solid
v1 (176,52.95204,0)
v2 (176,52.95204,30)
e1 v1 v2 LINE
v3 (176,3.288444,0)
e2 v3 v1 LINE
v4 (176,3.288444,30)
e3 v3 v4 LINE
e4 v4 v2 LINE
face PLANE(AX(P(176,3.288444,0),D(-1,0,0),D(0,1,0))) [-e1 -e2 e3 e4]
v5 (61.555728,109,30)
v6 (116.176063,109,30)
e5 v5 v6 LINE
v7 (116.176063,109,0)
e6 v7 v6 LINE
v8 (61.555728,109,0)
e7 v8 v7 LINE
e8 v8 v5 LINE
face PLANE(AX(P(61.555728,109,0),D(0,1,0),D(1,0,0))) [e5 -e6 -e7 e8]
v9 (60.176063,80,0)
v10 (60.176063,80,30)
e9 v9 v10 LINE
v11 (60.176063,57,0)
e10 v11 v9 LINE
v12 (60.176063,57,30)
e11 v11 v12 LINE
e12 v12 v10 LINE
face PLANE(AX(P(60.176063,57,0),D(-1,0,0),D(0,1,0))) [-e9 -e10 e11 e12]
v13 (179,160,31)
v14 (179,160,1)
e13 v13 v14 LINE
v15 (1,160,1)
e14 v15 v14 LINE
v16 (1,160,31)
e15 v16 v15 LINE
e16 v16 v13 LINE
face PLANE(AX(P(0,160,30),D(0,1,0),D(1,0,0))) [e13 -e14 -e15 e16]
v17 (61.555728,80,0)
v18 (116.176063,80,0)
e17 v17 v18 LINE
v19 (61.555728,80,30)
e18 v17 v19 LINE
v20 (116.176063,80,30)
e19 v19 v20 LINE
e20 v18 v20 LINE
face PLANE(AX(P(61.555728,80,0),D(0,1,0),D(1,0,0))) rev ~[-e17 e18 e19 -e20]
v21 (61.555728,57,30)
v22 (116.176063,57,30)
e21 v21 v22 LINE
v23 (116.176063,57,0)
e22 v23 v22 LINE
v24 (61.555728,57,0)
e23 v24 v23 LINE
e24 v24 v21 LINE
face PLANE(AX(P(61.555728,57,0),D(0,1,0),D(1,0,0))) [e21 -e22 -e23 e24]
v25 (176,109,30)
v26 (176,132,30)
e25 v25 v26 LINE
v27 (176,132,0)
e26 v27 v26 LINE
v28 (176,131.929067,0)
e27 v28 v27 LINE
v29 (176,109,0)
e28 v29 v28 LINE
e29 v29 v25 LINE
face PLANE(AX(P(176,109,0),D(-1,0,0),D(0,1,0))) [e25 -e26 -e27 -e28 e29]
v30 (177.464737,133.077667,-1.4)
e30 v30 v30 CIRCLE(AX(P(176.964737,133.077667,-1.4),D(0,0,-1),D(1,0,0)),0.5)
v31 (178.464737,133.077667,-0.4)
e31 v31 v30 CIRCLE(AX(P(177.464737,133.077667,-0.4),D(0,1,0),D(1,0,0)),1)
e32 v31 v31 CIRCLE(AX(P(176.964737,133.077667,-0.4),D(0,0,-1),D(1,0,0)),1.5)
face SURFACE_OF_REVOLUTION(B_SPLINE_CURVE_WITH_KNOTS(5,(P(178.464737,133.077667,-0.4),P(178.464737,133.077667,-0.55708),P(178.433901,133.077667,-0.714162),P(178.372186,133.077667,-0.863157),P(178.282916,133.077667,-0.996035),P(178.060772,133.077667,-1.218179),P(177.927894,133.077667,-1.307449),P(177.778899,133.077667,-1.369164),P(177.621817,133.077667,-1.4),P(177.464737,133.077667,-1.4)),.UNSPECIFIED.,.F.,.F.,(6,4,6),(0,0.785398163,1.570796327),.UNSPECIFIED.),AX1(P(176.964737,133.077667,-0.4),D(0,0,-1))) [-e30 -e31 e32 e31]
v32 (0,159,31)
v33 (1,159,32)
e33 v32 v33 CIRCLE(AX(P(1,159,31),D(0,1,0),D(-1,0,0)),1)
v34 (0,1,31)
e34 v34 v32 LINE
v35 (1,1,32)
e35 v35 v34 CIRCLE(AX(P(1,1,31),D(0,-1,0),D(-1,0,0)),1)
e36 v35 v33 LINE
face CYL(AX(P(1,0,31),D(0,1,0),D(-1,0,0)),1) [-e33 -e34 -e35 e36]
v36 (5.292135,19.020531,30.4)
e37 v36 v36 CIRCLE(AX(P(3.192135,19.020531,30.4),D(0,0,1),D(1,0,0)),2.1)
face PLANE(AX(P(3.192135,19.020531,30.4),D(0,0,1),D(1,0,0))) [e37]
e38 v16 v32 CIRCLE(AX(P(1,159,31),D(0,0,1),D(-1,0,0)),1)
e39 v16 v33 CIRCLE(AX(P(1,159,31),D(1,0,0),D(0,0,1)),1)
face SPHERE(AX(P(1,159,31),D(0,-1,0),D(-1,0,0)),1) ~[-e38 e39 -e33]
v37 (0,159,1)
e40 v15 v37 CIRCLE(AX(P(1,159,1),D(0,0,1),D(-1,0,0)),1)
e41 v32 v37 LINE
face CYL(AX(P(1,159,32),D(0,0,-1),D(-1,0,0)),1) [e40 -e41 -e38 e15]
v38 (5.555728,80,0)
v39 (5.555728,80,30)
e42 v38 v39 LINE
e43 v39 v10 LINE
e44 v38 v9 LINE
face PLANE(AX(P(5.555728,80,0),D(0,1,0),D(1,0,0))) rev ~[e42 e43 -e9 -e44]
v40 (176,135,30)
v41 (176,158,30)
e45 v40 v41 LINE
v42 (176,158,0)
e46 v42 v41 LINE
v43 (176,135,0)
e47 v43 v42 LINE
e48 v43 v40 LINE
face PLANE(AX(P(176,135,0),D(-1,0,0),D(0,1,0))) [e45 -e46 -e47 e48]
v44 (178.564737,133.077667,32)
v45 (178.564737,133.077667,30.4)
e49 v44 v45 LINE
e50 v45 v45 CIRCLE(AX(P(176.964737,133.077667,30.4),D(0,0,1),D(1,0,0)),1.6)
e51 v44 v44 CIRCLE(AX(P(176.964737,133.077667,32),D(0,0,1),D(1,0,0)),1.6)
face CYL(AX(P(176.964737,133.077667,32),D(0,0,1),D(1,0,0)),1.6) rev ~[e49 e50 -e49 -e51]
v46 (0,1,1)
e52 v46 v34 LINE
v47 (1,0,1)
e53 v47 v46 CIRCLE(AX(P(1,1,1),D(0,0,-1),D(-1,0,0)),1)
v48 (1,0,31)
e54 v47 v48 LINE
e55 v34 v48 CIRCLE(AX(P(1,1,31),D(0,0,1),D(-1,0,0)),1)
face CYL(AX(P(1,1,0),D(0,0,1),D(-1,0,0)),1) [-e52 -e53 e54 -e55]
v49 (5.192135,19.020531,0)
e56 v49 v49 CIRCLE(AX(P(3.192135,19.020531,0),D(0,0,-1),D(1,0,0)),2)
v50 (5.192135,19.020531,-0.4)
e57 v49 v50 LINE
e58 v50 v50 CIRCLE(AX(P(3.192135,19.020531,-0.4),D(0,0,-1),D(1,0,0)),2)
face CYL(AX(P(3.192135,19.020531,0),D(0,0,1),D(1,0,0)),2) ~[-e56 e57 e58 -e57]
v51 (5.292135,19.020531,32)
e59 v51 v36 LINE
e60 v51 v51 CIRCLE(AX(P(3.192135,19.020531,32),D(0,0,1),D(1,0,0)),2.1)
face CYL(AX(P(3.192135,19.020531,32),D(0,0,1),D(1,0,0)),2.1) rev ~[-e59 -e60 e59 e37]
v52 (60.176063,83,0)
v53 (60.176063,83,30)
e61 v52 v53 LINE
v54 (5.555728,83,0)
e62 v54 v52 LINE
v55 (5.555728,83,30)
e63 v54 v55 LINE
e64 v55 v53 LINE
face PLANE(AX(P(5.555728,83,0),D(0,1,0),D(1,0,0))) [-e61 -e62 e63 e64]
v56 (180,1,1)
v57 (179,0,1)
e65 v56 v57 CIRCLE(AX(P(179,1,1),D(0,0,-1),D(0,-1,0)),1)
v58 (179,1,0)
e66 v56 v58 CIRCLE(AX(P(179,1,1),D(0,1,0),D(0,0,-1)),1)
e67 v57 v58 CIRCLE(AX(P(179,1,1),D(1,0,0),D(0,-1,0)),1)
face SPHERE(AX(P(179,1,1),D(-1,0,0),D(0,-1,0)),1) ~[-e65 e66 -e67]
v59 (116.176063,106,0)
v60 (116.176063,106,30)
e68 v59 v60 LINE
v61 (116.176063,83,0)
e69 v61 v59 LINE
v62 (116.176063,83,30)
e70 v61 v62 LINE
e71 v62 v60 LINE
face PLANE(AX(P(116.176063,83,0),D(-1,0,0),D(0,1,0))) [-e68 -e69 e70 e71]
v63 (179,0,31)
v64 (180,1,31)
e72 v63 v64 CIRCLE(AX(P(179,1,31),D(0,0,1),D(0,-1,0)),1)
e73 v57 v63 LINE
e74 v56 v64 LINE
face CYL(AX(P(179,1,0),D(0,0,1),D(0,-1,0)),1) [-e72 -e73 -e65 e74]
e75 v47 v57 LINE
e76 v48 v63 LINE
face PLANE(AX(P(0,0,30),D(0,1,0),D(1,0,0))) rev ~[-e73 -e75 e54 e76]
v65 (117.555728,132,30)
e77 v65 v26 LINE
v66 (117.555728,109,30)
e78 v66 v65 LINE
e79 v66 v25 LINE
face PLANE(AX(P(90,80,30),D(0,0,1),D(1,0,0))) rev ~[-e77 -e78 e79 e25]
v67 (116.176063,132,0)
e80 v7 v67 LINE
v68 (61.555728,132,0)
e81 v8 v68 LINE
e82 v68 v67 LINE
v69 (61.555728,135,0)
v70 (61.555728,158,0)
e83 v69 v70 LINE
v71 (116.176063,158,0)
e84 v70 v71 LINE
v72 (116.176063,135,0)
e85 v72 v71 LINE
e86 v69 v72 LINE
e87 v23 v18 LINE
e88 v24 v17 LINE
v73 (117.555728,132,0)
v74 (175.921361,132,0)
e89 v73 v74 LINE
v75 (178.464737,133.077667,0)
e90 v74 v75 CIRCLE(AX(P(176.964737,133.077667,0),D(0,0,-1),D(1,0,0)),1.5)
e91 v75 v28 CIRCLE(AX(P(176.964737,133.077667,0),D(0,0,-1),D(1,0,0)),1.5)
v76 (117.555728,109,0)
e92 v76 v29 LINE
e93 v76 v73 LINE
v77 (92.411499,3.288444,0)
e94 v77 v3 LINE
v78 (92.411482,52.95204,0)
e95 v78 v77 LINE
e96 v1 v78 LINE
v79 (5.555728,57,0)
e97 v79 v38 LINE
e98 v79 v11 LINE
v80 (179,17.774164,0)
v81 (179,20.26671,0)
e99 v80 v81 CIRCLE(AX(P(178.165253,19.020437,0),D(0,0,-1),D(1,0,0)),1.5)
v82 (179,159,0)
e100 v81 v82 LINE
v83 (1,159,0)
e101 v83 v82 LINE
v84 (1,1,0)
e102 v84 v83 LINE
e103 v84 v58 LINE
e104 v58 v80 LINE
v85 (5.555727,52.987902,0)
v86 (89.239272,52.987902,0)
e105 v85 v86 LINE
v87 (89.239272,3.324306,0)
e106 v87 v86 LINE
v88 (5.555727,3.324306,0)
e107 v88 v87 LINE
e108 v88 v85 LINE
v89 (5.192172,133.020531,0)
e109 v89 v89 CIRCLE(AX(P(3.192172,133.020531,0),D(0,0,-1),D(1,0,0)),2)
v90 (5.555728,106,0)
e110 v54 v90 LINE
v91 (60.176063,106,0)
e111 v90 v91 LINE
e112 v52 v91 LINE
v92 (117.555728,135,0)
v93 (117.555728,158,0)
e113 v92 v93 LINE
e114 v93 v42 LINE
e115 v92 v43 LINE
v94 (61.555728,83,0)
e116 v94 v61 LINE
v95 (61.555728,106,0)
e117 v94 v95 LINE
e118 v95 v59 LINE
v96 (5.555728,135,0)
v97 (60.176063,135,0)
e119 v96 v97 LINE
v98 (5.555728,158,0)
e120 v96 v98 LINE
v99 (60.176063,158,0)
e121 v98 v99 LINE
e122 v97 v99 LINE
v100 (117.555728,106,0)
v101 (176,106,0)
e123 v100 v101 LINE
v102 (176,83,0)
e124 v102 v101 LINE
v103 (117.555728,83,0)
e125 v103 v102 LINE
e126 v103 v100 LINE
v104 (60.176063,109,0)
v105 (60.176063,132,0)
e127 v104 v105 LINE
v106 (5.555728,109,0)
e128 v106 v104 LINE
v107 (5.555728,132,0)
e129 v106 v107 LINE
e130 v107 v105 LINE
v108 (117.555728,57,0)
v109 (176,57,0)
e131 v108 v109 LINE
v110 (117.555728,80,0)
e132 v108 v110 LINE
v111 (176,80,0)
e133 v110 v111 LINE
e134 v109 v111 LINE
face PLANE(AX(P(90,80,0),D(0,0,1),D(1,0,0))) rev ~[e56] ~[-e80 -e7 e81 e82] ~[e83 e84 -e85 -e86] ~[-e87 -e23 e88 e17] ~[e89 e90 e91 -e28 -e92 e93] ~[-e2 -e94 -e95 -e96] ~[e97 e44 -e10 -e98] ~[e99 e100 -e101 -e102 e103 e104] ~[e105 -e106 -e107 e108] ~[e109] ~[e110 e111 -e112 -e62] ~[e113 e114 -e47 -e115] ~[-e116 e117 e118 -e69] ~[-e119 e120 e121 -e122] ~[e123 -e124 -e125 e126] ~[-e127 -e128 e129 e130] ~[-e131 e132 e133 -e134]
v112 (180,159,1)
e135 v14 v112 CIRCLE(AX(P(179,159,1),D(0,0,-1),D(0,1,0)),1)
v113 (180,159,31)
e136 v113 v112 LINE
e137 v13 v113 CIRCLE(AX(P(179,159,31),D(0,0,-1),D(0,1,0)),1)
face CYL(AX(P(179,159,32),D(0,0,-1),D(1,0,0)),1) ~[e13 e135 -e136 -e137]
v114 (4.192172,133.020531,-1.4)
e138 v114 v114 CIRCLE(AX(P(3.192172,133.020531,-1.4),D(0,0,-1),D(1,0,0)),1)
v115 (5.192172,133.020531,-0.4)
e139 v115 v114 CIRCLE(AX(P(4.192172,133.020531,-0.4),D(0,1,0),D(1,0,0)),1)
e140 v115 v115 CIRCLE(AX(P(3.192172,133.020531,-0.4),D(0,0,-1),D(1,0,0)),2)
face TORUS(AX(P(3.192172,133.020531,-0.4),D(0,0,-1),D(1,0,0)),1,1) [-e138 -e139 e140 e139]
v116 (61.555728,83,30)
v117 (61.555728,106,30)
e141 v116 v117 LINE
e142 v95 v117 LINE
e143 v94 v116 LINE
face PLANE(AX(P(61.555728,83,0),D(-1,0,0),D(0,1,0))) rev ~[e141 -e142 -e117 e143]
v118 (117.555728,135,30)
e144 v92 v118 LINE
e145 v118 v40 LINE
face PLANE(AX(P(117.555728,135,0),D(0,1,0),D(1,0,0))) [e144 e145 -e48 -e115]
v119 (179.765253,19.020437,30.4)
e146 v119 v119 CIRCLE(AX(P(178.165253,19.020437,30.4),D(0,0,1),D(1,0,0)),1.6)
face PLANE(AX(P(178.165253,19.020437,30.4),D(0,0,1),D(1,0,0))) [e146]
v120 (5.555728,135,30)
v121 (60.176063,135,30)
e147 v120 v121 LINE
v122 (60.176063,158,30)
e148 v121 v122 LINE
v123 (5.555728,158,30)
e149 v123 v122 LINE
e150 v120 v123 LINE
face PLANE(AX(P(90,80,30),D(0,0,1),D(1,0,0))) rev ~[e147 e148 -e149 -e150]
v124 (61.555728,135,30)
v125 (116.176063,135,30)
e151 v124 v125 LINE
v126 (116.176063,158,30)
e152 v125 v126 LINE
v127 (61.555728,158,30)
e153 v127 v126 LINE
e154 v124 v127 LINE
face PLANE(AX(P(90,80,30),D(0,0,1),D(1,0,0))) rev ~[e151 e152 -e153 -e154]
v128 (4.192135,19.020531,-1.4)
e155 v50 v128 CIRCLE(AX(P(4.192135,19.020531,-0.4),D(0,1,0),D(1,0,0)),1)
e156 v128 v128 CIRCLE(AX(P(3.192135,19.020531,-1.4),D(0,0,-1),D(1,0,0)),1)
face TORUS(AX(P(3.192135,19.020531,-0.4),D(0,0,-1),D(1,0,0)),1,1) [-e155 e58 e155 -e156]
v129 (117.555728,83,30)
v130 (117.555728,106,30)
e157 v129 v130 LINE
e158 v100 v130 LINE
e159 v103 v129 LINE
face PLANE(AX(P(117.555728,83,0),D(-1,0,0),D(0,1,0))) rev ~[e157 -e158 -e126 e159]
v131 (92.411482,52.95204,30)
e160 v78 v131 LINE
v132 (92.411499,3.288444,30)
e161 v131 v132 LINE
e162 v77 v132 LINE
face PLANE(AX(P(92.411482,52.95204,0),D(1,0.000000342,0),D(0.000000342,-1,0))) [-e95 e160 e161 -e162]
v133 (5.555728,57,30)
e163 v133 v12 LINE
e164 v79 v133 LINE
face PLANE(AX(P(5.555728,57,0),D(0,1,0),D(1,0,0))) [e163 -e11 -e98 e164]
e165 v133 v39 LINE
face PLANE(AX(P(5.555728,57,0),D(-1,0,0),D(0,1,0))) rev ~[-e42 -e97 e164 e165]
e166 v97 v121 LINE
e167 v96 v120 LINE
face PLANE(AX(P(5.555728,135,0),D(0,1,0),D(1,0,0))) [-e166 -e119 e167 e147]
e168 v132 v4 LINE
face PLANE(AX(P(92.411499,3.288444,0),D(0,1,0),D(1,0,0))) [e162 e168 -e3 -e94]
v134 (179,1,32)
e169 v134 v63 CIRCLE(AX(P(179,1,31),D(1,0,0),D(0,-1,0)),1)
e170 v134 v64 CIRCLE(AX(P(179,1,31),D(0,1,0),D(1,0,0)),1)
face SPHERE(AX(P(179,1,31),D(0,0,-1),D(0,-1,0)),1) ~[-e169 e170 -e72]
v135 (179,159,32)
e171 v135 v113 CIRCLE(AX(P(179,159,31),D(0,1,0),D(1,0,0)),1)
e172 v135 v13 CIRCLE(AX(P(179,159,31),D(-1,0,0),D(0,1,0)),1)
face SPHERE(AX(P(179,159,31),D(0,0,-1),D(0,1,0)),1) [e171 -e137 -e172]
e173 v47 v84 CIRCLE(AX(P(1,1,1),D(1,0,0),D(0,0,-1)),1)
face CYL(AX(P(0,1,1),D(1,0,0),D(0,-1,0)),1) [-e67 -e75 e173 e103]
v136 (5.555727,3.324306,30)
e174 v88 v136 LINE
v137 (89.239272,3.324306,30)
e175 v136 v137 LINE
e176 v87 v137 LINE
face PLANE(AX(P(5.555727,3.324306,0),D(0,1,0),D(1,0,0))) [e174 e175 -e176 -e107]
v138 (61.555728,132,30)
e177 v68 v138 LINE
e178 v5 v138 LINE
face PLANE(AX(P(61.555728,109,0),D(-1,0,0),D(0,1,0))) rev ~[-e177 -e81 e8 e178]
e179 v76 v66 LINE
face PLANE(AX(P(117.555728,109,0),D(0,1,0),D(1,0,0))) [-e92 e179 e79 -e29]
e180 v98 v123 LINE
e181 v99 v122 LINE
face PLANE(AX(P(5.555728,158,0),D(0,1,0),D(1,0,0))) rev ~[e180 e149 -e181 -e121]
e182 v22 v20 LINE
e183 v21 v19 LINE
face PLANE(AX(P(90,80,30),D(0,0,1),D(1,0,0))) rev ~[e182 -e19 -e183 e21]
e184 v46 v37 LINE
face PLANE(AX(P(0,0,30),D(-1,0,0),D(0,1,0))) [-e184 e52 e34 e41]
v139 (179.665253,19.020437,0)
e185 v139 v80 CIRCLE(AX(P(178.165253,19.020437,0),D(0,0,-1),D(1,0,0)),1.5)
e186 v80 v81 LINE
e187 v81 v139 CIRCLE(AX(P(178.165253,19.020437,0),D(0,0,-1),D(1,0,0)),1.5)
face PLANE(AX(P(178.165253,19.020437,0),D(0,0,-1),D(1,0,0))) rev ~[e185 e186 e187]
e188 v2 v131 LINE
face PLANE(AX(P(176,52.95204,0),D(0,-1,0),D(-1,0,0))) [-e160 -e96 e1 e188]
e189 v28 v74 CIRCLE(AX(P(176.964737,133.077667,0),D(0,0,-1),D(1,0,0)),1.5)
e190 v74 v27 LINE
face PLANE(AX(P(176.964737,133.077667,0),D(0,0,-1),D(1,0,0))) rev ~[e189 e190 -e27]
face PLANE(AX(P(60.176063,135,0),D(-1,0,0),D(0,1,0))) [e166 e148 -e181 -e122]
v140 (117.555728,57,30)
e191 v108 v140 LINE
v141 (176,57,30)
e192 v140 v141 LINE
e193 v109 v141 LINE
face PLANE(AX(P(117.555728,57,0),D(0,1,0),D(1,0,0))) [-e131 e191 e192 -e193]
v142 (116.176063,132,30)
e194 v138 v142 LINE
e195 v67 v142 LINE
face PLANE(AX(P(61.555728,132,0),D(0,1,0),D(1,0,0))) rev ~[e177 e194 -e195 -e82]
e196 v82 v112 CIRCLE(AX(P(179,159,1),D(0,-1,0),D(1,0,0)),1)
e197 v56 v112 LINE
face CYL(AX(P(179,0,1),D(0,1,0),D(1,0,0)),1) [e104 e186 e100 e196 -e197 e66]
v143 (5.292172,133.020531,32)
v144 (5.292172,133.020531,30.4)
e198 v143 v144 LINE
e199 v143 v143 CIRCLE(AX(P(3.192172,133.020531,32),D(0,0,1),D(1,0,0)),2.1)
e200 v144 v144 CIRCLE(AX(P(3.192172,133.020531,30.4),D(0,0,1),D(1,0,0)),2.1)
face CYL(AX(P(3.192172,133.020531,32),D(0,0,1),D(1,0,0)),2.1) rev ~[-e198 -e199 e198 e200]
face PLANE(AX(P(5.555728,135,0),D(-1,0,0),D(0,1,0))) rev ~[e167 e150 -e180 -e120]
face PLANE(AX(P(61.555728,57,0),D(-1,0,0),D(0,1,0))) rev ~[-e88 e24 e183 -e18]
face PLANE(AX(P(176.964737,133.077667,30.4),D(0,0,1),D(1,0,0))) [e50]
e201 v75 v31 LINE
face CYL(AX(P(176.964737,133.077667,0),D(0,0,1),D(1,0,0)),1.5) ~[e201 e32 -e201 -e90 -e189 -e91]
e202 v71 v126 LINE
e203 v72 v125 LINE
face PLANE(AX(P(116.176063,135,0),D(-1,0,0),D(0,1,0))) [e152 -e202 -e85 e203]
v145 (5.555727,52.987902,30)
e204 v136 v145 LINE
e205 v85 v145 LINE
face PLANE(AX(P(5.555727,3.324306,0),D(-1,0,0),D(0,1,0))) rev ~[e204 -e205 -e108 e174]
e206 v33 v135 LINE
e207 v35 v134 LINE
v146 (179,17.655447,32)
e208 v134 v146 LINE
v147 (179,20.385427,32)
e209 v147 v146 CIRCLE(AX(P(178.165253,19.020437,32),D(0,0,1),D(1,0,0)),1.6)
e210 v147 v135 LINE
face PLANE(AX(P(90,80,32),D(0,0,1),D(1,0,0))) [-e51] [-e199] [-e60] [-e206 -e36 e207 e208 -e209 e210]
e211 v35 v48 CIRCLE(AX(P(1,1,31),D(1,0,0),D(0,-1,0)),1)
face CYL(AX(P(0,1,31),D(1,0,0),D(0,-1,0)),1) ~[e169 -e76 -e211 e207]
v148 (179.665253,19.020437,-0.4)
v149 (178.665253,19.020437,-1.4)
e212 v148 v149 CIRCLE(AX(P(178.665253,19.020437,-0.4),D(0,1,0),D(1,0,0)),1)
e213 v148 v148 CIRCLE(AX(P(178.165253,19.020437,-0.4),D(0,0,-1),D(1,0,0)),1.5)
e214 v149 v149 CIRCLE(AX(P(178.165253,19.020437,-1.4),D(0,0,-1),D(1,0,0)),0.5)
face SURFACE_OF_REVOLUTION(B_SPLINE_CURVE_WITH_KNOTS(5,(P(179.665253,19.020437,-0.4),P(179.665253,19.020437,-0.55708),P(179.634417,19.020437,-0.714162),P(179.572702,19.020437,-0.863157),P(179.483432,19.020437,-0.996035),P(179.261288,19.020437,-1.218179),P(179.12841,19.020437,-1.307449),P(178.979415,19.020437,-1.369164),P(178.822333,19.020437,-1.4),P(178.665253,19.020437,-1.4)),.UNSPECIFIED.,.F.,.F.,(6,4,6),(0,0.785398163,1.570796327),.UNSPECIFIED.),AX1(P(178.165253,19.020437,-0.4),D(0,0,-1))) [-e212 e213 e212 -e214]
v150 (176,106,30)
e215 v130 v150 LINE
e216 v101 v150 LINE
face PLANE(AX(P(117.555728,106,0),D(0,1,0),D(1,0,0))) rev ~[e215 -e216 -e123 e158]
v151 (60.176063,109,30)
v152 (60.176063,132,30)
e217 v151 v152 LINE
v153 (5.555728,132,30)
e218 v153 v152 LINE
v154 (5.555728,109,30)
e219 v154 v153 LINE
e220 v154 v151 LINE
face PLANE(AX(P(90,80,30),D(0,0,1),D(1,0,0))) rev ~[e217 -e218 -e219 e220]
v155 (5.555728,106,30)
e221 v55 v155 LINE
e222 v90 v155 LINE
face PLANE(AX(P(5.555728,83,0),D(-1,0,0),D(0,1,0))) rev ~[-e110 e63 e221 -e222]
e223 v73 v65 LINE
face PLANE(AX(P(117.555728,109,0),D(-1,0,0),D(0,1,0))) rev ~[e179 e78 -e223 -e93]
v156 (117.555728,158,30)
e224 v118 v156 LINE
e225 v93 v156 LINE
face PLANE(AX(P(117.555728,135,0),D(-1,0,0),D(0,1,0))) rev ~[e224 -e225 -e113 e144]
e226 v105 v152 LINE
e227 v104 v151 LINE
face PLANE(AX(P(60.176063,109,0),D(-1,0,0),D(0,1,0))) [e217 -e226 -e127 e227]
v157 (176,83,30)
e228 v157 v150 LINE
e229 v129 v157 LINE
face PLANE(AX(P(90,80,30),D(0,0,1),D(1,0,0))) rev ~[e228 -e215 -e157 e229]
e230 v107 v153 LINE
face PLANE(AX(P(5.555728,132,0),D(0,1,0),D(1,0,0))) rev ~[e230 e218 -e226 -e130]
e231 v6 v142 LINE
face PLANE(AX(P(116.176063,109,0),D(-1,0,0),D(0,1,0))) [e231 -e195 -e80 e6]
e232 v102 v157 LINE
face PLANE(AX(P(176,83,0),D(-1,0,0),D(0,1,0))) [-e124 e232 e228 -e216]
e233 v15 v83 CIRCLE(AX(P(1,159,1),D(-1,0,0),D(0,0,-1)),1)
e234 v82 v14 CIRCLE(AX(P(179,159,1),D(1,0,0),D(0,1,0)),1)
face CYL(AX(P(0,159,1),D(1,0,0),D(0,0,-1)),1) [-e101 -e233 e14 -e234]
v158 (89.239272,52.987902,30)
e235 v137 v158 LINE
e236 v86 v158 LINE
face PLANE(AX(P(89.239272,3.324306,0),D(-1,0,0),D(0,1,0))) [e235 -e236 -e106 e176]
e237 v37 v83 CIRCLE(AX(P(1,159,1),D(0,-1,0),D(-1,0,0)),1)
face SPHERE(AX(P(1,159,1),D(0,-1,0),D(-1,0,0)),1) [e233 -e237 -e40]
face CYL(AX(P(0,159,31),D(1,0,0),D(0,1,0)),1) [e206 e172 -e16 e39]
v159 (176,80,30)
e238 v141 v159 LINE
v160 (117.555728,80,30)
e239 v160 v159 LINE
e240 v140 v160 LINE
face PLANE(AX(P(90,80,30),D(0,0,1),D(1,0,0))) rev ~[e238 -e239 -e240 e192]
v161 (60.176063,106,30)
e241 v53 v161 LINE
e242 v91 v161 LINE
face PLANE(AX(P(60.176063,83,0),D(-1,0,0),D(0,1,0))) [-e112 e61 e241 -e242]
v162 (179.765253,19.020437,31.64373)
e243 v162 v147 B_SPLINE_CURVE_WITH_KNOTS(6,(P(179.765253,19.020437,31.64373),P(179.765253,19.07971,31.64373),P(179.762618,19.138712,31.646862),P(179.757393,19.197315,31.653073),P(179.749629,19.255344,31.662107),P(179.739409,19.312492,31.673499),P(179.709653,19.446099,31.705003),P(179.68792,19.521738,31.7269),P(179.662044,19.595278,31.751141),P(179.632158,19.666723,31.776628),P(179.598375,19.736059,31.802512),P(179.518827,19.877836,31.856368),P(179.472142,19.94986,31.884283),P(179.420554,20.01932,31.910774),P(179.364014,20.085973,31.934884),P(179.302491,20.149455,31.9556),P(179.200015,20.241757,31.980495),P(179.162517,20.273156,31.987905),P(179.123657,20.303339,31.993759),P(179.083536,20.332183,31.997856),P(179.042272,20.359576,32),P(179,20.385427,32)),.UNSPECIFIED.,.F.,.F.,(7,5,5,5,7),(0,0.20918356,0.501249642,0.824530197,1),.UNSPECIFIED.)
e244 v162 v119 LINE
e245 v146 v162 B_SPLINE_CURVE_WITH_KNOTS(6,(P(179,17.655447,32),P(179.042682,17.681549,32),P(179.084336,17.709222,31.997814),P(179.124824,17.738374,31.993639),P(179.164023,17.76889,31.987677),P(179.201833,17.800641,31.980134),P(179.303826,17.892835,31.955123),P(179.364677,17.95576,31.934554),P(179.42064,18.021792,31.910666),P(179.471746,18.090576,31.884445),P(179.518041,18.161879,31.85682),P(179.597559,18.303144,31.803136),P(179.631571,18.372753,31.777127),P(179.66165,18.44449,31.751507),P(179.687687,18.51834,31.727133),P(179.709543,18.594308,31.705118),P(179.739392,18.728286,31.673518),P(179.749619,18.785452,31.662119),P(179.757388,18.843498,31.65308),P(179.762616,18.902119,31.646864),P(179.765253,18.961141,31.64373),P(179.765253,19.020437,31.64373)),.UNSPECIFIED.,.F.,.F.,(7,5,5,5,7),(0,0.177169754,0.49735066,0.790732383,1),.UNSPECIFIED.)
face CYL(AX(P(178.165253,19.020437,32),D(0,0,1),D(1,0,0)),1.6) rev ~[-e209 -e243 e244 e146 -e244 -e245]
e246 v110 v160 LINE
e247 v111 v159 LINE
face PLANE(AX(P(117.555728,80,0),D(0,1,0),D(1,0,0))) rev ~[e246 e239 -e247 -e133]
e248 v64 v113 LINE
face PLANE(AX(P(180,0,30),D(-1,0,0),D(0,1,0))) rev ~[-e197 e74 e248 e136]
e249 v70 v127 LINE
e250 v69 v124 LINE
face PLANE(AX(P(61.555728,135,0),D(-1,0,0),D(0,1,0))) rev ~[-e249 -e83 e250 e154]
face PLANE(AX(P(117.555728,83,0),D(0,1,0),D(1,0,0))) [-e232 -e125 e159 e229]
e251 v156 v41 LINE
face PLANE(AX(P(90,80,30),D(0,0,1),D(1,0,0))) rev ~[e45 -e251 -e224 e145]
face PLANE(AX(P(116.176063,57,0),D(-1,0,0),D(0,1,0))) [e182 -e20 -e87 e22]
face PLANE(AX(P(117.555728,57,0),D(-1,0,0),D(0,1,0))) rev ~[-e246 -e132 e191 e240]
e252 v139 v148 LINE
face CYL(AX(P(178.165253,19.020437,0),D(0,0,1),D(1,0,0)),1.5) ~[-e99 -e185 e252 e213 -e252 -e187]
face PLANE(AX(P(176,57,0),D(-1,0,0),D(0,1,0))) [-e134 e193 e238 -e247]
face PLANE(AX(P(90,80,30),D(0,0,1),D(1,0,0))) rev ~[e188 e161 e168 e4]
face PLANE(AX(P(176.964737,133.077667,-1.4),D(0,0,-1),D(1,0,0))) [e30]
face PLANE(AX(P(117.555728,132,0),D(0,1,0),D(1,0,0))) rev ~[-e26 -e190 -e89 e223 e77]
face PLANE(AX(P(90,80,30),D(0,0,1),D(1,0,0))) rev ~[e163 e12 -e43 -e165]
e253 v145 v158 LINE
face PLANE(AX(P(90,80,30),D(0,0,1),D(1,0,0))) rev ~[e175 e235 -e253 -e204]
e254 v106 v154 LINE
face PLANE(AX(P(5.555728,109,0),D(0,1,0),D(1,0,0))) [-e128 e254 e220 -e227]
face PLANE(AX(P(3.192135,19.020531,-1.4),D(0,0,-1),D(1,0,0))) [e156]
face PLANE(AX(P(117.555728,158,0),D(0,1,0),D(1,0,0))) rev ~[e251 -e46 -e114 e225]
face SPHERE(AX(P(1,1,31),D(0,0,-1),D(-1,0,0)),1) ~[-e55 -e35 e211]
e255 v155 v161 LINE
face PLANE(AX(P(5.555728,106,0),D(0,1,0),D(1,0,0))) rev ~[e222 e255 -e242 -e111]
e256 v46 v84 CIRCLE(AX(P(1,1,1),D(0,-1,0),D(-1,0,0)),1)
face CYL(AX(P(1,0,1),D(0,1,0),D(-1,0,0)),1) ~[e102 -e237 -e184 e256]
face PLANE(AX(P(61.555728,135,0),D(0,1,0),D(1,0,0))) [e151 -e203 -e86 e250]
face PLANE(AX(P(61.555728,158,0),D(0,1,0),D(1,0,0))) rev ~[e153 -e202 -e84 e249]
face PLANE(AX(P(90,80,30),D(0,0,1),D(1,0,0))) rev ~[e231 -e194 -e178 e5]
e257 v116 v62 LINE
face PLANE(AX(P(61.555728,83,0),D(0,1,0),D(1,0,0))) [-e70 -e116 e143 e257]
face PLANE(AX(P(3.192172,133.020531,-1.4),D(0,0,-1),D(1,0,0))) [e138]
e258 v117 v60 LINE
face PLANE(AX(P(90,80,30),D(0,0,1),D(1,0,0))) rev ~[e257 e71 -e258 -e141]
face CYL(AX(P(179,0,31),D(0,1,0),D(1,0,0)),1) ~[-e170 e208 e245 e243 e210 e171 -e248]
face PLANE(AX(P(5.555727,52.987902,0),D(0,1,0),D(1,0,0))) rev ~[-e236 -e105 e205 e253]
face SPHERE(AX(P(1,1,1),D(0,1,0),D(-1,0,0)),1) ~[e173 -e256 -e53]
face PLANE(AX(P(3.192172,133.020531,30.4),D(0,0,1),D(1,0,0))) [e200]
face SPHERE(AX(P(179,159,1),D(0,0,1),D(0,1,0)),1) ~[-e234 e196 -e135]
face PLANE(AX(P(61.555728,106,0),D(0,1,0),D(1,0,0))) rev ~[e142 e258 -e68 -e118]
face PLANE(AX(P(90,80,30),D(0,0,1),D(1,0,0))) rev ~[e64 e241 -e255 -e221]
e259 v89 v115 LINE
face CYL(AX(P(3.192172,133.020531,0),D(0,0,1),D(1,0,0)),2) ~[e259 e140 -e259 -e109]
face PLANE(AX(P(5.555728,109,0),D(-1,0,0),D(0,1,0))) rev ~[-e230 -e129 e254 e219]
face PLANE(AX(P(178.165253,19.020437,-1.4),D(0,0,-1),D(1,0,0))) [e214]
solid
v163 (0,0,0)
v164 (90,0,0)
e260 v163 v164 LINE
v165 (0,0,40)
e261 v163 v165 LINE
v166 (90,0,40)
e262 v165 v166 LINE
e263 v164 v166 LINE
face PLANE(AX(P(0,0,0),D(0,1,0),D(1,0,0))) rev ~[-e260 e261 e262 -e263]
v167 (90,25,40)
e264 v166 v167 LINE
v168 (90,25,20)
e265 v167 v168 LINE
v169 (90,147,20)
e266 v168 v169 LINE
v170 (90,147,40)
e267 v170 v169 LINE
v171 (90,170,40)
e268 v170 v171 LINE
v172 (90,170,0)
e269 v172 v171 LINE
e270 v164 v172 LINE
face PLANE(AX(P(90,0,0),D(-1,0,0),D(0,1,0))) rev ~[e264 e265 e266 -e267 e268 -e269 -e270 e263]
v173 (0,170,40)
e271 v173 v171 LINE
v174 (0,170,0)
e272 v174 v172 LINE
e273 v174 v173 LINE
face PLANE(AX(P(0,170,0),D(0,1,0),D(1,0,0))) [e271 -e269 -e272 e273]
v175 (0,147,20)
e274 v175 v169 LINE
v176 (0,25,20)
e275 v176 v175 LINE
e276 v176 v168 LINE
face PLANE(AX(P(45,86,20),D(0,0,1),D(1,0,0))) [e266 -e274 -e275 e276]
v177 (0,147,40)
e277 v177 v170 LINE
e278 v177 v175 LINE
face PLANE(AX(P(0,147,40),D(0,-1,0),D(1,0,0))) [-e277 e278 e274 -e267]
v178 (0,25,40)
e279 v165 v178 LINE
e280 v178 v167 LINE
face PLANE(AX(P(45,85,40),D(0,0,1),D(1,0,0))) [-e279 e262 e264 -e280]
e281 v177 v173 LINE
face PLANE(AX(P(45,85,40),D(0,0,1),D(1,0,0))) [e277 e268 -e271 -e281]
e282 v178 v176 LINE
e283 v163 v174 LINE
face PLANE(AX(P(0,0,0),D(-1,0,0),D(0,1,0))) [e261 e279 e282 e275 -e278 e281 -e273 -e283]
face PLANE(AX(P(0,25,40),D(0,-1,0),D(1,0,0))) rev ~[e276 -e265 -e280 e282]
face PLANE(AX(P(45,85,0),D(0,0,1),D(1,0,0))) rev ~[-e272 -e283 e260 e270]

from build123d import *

# Parameters (mm, degrees)
SKETCH_W        = 180
SKETCH_H        = 160
SKETCH_W_2      = 83.683545
SKETCH_H_2      = 49.663596
SKETCH_W_3      = 54.620335
SKETCH_H_3      = 23
SKETCH_W_4      = 58.444272
PAD001_DEPTH    = 30
SKETCH004_W     = 180
SKETCH004_H     = 160
PAD002_DEPTH    = 2
FILLET_R        = 1
SKETCH005_R     = 2
SKETCH005_R_2   = 1.5
PAD003_DEPTH    = 1.4
FILLET001_R     = 1
SKETCH006_R     = 2.1
SKETCH006_R_2   = 1.6
POCKET001_DEPTH = 1.6
SKETCH002_W     = 90
SKETCH002_H     = 170
PAD_DEPTH       = 40
SKETCH003_W     = 90
SKETCH003_H     = 122
POCKET_DEPTH    = 20


with BuildPart() as body:
    # Sketch (on XY_Plane of Origin) → Pad001 (new body)
    with BuildSketch(Plane.XY):
        with Locations((90, 80)):
            Rectangle(SKETCH_W, SKETCH_H)
        with Locations((47.3975, 28.156104)):
            Rectangle(SKETCH_W_2, SKETCH_H_2, mode=Mode.SUBTRACT)
        Polygon((176, 3.288444), (176, 52.95204), (92.411482, 52.95204), (92.411499, 3.288444), align=None, mode=Mode.SUBTRACT)
        with Locations((32.865896, 146.5)):
            Rectangle(SKETCH_W_3, SKETCH_H_3, mode=Mode.SUBTRACT)
        with Locations((88.865895, 146.5)):
            Rectangle(SKETCH_W_3, SKETCH_H_3, mode=Mode.SUBTRACT)
        with Locations((146.777864, 146.5)):
            Rectangle(SKETCH_W_4, SKETCH_H_3, mode=Mode.SUBTRACT)
        with Locations((32.865896, 120.5)):
            Rectangle(SKETCH_W_3, SKETCH_H_3, mode=Mode.SUBTRACT)
        with Locations((88.865895, 120.5)):
            Rectangle(SKETCH_W_3, SKETCH_H_3, mode=Mode.SUBTRACT)
        with Locations((146.777864, 120.5)):
            Rectangle(SKETCH_W_4, SKETCH_H_3, mode=Mode.SUBTRACT)
        with Locations((32.865896, 94.5)):
            Rectangle(SKETCH_W_3, SKETCH_H_3, mode=Mode.SUBTRACT)
        with Locations((88.865895, 94.5)):
            Rectangle(SKETCH_W_3, SKETCH_H_3, mode=Mode.SUBTRACT)
        with Locations((146.777864, 94.5)):
            Rectangle(SKETCH_W_4, SKETCH_H_3, mode=Mode.SUBTRACT)
        with Locations((32.865896, 68.5)):
            Rectangle(SKETCH_W_3, SKETCH_H_3, mode=Mode.SUBTRACT)
        with Locations((88.865895, 68.5)):
            Rectangle(SKETCH_W_3, SKETCH_H_3, mode=Mode.SUBTRACT)
        with Locations((146.777864, 68.5)):
            Rectangle(SKETCH_W_4, SKETCH_H_3, mode=Mode.SUBTRACT)
    extrude(amount=PAD001_DEPTH)

    # Sketch004 (on Face62 of Pad001) → Pad002 (join)
    with BuildSketch(Plane.XY.offset(30)):
        with Locations((90, 80)):
            Rectangle(SKETCH004_W, SKETCH004_H)
    extrude(amount=PAD002_DEPTH)

    # Fillet
    fillet_edges = [body.edges().sort_by_distance(p)[0] for p in [
        (0, 80, 0),
        (0, 0, 16),
        (0, 80, 32),
        (0, 160, 16),
        (90, 0, 0),
        (180, 0, 16),
        (90, 0, 32),
        (180, 160, 16),
        (90, 160, 0),
        (90, 160, 32),
        (180, 80, 0),
        (180, 80, 32),
    ]]
    fillet(fillet_edges, radius=FILLET_R)

    # Sketch005 (on Face1 of Fillet) → Pad003 (join)
    with BuildSketch(Plane(origin=(0, 0, 0), x_dir=(1, 0, 0), z_dir=(0, 0, -1))):
        with Locations((3.192135, -19.020531)):
            Circle(SKETCH005_R)
        with Locations((178.165253, -19.020437)):
            Circle(SKETCH005_R_2)
        with Locations((3.192172, -133.020531)):
            Circle(SKETCH005_R)
        with Locations((176.964737, -133.077667)):
            Circle(SKETCH005_R_2)
    extrude(amount=PAD003_DEPTH)

    # Fillet001
    fillet001_edges = [body.edges().sort_by_distance(p)[0] for p in [
        (1.192135, 19.020531, -1.4),
        (176.665253, 19.020437, -1.4),
        (175.464737, 133.077667, -1.4),
        (1.192172, 133.020531, -1.4),
    ]]
    fillet(fillet001_edges, radius=FILLET001_R)

    # Sketch006 (on Face107 of Fillet001) → Pocket001 (cut)
    with BuildSketch(Plane.XY.offset(32)):
        with Locations((3.192172, 133.020531)):
            Circle(SKETCH006_R)
        with Locations((3.192135, 19.020531)):
            Circle(SKETCH006_R)
        with Locations((178.165253, 19.020437)):
            Circle(SKETCH006_R_2)
        with Locations((176.964737, 133.077667)):
            Circle(SKETCH006_R_2)
    extrude(amount=-POCKET001_DEPTH, mode=Mode.SUBTRACT)


with BuildPart() as sign_tree:
    # Sketch002 (on XY_Plane001 of Origin002) → Pad (new body)
    with BuildSketch(Plane.XY):
        with Locations((45, 85)):
            Rectangle(SKETCH002_W, SKETCH002_H)
    extrude(amount=PAD_DEPTH)

    # Sketch003 (on Face6 of Pad) → Pocket (cut)
    with BuildSketch(Plane.XY.offset(40)):
        with Locations((45, 86)):
            Rectangle(SKETCH003_W, SKETCH003_H)
    extrude(amount=-POCKET_DEPTH, mode=Mode.SUBTRACT)


solid = Compound([body.part, sign_tree.part])
